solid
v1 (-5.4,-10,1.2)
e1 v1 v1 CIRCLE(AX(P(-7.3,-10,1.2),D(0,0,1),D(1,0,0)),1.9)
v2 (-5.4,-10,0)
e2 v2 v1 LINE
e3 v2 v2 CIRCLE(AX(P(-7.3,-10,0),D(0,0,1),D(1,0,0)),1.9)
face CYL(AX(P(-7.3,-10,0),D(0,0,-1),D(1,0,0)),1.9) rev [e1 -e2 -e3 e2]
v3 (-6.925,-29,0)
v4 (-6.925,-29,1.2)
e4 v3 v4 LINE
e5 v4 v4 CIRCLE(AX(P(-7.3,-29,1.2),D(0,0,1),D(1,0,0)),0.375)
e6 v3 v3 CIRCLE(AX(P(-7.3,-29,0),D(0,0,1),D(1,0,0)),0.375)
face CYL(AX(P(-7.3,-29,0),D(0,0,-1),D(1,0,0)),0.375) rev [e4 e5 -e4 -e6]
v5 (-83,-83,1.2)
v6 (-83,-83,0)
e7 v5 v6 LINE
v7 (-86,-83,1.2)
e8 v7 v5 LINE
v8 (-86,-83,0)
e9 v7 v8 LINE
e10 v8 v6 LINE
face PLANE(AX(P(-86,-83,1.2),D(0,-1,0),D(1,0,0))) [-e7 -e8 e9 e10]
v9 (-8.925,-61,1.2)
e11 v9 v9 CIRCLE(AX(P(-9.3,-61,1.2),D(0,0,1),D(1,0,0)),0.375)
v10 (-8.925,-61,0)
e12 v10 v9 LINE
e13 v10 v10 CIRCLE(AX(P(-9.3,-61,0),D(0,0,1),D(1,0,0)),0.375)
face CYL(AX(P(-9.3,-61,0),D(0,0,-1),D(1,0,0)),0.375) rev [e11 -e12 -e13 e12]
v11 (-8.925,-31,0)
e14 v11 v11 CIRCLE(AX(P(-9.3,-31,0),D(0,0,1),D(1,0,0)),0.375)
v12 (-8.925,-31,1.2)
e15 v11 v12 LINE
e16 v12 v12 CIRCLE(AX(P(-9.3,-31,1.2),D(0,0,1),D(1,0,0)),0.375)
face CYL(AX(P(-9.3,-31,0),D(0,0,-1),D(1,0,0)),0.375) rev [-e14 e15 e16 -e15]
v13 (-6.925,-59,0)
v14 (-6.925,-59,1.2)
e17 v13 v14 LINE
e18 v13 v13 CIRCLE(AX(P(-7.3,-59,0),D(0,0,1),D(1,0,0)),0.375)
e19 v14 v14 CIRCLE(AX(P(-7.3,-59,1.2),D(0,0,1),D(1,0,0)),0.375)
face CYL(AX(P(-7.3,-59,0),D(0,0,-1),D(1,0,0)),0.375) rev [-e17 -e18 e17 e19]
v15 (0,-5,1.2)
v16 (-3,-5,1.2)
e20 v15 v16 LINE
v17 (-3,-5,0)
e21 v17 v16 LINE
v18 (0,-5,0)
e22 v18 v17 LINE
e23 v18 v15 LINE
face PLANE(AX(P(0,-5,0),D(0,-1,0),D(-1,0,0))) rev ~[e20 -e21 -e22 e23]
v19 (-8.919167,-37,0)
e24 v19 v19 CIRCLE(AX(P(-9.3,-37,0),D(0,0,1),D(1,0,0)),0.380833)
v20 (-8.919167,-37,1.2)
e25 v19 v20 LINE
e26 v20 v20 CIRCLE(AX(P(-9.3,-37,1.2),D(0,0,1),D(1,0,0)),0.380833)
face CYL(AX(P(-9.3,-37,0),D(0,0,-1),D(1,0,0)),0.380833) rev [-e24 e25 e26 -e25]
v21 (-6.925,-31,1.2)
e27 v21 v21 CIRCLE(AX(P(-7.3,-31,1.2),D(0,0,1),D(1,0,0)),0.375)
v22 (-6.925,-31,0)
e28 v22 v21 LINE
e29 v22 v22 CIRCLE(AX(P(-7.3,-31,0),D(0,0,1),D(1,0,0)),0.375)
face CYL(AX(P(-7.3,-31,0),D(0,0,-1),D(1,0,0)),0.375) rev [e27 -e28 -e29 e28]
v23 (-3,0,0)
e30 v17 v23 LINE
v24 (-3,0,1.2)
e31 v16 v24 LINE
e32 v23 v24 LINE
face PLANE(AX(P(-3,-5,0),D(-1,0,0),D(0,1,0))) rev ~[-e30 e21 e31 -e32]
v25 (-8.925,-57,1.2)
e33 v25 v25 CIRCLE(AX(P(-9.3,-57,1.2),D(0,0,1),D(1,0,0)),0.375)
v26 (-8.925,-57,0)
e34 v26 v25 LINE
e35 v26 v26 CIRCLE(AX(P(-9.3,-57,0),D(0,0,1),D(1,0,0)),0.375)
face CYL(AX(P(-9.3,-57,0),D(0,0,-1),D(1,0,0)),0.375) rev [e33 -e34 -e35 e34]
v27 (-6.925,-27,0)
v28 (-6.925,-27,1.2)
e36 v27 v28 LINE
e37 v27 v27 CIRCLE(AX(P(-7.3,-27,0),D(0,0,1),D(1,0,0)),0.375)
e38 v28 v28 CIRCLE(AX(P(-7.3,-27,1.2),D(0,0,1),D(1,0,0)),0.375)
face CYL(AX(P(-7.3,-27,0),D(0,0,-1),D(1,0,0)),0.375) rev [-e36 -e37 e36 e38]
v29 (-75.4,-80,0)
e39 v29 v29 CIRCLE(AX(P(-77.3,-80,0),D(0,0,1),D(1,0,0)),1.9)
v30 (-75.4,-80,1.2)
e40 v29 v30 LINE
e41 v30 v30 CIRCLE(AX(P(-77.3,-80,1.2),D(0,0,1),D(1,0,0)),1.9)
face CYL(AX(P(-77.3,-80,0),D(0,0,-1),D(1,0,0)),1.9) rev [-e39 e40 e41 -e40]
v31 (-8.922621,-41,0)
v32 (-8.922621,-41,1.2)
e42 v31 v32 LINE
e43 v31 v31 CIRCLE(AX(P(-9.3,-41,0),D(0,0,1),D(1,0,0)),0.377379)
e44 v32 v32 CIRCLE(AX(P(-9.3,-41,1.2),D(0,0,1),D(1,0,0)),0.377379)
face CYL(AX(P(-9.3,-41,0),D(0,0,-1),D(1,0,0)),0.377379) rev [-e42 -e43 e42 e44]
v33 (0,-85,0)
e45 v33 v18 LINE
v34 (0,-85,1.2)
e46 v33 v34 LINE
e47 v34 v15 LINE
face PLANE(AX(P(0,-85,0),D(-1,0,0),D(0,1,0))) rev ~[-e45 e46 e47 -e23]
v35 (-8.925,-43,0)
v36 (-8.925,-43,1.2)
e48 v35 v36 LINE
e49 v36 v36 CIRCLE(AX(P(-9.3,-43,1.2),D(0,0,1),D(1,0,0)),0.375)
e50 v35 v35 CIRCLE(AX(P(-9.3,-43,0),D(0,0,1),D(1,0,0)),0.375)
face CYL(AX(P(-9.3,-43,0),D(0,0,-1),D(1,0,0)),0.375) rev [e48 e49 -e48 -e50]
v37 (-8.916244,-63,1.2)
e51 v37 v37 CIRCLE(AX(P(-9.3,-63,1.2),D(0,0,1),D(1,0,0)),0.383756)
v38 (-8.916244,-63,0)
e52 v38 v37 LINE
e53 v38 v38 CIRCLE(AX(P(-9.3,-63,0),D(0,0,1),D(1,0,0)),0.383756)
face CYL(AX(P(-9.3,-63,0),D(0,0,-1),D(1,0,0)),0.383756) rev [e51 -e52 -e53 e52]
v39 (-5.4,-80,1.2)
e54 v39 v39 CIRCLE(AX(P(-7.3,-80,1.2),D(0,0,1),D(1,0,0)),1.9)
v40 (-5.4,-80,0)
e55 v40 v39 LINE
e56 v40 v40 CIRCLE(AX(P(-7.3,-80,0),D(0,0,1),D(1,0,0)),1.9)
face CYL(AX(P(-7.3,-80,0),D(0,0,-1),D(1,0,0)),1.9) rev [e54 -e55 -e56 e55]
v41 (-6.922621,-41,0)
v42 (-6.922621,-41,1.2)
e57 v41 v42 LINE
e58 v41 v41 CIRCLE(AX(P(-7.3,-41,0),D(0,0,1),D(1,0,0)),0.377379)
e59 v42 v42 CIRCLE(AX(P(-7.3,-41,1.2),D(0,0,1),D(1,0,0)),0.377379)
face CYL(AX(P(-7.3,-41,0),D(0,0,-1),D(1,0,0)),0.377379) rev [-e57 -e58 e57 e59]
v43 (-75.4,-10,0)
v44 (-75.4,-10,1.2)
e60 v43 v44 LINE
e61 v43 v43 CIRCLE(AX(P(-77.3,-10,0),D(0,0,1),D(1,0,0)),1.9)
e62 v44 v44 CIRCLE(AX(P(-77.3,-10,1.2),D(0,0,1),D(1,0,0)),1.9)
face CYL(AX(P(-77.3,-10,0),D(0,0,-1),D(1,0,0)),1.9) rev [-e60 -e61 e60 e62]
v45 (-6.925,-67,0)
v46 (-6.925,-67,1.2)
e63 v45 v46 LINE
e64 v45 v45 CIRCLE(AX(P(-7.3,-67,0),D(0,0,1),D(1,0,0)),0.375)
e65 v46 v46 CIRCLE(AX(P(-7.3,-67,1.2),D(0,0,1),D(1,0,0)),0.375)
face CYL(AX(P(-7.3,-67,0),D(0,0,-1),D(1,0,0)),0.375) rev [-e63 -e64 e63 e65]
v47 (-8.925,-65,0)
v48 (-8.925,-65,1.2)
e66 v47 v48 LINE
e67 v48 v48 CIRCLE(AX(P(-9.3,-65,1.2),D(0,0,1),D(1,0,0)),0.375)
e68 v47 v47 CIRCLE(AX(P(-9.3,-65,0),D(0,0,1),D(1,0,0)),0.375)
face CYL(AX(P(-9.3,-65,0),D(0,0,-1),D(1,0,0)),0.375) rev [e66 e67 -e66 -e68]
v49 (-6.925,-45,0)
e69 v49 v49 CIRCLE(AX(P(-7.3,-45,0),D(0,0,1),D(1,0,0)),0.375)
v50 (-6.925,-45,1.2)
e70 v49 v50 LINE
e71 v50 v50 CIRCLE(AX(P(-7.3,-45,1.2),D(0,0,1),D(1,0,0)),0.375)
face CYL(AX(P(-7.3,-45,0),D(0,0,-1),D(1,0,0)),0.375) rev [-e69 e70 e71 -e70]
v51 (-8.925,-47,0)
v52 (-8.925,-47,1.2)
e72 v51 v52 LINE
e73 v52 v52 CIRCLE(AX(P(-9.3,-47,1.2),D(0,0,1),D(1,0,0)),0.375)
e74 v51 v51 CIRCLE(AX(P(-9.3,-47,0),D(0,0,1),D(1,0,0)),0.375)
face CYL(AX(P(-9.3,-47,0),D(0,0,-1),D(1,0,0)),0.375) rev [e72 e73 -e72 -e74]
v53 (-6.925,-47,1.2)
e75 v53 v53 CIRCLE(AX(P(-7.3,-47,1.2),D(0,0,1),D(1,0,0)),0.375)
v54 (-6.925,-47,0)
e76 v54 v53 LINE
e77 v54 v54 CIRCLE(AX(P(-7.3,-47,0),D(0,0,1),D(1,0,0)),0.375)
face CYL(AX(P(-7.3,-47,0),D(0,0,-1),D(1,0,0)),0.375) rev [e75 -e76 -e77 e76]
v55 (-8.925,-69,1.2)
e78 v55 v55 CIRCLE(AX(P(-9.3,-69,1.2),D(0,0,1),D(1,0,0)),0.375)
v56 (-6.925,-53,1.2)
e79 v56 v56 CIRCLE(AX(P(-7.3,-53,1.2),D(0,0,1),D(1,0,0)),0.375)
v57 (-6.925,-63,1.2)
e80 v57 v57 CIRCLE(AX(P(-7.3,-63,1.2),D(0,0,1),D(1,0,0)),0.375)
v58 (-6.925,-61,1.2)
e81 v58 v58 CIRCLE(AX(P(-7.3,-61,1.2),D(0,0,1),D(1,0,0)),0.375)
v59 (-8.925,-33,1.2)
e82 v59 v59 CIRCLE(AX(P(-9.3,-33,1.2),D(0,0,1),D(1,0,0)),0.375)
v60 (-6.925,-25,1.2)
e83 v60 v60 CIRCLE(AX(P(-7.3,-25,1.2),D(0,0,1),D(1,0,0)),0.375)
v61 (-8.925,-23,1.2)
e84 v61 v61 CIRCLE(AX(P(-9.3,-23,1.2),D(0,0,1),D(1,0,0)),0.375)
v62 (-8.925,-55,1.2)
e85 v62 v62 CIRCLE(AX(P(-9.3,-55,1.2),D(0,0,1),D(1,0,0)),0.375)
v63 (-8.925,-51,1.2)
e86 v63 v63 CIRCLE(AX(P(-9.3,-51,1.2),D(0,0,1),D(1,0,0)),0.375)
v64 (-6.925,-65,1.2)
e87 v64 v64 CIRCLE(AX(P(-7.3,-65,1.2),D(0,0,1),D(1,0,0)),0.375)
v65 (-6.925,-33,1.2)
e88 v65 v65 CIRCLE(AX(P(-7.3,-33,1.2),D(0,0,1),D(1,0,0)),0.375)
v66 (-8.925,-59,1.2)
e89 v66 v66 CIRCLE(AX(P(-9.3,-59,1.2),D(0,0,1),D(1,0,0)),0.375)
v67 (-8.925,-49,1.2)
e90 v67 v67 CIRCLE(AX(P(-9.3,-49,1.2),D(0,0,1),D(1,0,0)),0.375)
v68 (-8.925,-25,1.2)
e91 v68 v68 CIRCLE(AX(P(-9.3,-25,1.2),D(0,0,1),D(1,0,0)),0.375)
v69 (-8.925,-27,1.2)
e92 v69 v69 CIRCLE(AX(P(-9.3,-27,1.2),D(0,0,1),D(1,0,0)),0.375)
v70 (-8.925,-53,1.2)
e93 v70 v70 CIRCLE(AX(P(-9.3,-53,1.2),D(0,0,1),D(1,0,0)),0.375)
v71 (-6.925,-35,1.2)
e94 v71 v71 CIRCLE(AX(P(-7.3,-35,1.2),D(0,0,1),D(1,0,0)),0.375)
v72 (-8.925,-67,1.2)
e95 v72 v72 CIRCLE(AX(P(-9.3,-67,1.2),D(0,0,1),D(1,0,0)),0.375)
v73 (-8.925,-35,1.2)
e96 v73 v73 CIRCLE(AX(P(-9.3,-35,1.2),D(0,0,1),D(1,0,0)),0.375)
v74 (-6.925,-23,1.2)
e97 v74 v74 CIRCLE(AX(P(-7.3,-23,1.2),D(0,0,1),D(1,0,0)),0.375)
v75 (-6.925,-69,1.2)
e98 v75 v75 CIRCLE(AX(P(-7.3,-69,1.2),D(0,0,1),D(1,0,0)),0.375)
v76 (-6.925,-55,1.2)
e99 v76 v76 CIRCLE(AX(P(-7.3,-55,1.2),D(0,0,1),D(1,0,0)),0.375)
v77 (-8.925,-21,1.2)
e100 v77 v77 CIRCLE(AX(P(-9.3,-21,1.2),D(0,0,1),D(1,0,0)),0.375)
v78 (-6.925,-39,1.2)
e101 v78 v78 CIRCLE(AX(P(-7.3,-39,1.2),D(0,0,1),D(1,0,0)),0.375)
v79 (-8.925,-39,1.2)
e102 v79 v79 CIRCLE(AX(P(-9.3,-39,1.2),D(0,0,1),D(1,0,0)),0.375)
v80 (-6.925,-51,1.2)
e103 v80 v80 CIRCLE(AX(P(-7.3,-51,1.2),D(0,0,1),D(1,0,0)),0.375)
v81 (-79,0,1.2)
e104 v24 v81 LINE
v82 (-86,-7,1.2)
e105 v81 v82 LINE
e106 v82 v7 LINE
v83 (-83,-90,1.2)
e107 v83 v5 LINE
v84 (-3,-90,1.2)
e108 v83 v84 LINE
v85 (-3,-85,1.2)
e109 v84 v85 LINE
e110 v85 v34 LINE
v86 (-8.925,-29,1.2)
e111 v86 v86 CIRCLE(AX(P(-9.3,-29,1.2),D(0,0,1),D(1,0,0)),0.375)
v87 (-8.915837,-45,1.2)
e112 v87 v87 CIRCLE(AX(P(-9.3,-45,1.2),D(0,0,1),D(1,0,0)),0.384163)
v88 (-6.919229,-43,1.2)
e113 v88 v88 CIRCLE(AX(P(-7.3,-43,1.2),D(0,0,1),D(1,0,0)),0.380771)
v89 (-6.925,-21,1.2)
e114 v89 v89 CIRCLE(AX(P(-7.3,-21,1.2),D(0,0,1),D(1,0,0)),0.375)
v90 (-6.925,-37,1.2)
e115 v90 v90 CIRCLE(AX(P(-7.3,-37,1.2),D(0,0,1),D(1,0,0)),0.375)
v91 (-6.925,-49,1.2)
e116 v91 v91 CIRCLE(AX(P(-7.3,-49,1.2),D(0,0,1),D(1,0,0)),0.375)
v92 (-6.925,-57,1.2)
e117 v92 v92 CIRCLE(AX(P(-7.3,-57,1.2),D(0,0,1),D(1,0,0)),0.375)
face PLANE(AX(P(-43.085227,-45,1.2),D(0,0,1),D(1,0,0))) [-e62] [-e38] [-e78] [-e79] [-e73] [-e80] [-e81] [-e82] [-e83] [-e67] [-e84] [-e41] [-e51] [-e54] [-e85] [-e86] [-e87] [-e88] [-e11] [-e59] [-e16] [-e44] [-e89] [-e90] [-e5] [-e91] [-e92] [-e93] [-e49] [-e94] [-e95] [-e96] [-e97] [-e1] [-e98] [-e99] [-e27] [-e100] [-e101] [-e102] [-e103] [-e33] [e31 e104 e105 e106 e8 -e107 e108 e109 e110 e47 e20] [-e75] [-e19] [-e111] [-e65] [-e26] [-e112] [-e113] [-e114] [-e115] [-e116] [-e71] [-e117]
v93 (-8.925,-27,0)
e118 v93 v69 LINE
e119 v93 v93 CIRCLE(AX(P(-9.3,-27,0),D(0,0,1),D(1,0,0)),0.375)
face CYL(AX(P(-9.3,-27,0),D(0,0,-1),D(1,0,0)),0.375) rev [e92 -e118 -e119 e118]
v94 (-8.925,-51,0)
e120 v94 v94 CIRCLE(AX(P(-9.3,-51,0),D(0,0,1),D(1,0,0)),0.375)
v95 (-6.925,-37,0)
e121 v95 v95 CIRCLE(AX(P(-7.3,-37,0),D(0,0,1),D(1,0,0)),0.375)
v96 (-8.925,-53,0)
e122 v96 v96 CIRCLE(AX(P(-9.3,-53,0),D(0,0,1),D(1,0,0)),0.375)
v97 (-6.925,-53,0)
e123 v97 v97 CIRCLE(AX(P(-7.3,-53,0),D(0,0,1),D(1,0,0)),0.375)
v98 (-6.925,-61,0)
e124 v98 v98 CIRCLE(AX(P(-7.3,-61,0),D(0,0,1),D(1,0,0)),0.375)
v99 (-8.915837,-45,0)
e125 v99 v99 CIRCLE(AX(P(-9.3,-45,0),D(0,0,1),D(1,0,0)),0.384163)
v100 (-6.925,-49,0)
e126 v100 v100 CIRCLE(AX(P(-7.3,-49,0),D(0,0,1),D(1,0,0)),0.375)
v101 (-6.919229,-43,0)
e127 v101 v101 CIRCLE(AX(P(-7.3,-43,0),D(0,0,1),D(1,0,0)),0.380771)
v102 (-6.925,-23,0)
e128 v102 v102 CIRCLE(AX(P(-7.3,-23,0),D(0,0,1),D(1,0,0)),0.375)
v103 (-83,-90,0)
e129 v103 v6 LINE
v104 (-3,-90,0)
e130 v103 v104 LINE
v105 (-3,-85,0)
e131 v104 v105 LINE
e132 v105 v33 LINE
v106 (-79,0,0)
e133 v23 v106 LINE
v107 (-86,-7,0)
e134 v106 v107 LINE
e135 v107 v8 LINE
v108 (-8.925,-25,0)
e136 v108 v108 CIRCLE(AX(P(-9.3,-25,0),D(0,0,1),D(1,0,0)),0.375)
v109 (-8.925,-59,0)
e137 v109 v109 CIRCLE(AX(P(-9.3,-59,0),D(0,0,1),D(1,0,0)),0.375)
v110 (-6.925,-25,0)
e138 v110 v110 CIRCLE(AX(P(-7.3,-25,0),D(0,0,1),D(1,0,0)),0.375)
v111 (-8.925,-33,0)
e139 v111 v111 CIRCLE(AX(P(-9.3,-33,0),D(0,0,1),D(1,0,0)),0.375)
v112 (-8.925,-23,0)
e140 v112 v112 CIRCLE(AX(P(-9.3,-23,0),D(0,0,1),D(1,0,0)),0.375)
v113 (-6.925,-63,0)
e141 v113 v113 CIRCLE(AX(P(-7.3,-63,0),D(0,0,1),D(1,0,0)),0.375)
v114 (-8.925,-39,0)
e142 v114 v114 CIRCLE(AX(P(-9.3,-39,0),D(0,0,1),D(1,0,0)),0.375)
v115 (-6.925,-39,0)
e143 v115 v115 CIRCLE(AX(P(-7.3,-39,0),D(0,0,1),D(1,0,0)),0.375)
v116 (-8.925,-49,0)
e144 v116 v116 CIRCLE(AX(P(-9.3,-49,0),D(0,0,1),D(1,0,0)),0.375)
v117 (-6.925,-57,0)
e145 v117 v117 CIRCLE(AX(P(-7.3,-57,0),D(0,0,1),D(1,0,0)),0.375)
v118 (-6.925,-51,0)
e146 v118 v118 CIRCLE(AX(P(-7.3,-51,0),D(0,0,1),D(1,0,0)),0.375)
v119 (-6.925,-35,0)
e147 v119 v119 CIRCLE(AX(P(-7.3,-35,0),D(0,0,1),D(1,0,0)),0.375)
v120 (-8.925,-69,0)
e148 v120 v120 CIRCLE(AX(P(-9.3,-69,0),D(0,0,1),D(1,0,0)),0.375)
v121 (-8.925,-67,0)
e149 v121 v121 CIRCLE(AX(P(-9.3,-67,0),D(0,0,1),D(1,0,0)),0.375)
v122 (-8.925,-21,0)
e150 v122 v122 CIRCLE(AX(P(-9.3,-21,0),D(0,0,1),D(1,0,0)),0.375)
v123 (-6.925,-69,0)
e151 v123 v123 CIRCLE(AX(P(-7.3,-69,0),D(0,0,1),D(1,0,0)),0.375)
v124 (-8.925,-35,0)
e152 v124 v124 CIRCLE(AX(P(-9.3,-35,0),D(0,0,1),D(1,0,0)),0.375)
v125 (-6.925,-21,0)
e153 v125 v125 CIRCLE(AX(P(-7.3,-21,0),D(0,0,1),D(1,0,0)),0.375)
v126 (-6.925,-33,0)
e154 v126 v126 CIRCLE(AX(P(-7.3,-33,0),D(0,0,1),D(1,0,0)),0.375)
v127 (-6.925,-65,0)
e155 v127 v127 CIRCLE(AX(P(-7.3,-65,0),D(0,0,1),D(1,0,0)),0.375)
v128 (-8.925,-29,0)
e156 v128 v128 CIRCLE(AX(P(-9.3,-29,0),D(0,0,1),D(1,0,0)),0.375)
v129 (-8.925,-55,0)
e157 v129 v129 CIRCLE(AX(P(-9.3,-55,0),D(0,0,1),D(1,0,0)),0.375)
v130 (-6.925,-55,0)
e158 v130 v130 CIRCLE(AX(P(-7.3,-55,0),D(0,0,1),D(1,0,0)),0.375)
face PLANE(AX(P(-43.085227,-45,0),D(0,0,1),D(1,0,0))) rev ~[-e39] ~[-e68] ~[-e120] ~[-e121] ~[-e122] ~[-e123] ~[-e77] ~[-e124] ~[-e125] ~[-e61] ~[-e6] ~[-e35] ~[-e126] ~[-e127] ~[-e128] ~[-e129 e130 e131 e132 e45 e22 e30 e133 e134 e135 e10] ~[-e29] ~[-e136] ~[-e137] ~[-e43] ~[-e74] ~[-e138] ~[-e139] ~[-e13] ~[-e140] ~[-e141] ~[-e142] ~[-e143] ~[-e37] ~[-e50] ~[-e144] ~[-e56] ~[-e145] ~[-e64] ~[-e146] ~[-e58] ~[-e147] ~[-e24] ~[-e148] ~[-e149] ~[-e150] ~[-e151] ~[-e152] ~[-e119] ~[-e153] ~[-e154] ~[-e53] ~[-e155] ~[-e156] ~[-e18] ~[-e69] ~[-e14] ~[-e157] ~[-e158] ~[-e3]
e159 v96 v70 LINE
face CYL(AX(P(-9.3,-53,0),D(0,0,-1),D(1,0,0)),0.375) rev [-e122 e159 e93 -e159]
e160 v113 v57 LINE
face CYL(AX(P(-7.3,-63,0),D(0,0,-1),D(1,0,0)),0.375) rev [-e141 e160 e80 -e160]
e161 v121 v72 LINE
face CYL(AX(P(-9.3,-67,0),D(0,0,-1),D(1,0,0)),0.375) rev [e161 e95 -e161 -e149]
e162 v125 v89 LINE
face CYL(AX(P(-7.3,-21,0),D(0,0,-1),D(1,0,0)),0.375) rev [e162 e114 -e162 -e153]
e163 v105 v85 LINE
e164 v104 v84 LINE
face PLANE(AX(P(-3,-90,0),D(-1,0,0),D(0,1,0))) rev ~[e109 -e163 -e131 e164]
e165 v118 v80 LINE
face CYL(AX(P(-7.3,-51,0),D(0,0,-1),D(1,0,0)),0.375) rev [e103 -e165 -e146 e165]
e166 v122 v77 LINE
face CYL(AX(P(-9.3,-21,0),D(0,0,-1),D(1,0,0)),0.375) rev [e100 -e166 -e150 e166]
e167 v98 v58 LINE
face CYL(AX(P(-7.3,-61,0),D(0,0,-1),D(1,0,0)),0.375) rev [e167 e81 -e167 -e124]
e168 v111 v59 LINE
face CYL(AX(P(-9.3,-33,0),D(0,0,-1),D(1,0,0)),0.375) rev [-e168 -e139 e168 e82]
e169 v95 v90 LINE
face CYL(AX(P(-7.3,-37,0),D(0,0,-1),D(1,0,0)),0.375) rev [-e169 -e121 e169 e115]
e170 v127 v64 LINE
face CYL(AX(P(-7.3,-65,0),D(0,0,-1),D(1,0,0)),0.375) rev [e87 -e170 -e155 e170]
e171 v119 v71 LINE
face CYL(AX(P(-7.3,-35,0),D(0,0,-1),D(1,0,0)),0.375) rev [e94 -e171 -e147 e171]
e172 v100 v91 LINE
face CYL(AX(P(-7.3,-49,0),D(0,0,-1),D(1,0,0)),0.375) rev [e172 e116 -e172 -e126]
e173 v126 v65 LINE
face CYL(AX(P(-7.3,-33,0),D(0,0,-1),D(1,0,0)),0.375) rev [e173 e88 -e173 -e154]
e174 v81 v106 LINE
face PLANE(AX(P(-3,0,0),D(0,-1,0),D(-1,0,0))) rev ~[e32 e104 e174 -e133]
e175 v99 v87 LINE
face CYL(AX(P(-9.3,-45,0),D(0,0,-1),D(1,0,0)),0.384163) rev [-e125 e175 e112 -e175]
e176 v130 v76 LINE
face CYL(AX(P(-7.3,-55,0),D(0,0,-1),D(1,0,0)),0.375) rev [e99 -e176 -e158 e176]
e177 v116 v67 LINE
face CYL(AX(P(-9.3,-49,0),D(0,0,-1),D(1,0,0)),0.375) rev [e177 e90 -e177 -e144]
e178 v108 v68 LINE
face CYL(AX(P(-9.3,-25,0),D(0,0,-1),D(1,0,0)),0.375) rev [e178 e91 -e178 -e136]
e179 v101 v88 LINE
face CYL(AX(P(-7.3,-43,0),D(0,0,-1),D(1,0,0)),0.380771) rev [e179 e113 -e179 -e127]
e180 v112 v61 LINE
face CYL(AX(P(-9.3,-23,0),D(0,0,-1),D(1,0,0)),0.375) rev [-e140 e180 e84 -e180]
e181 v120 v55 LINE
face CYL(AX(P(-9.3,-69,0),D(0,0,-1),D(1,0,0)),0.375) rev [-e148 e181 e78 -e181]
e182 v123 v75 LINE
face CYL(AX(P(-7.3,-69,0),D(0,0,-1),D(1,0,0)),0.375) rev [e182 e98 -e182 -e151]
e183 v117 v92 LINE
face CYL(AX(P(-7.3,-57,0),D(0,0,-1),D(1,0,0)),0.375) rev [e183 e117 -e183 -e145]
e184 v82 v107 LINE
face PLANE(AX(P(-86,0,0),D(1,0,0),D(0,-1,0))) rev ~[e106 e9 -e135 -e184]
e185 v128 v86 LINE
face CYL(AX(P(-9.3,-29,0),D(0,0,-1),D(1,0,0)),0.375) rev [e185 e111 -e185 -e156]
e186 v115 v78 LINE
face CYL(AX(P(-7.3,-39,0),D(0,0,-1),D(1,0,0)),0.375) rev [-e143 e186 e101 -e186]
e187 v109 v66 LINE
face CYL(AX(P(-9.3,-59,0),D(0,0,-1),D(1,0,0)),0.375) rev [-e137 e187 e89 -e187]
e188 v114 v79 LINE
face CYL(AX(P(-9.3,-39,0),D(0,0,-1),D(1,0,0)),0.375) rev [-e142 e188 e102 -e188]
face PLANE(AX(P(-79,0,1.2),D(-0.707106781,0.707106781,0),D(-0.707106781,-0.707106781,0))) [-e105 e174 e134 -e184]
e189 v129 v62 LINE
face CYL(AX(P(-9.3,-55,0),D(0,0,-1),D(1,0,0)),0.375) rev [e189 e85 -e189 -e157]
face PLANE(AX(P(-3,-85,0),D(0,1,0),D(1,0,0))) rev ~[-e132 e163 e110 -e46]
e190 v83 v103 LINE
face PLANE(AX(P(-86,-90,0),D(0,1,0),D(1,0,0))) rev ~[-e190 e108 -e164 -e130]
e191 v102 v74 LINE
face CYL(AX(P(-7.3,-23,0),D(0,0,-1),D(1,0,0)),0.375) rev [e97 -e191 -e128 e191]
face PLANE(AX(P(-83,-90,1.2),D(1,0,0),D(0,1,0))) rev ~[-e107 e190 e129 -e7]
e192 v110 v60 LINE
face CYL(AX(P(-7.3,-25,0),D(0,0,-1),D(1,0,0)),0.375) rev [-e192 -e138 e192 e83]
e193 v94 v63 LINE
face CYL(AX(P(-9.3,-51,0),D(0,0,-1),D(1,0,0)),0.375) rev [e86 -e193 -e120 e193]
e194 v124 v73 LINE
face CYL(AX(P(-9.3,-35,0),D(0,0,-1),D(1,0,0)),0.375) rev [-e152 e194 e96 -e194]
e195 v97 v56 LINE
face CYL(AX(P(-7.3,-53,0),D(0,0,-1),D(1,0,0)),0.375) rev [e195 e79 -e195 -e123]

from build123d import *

# Parameters (mm, degrees)
SKETCH1_R           = 1.9
SKETCH1_R_2         = 0.375
SKETCH1_R_3         = 0.383755901
SKETCH1_R_4         = 0.384163196
SKETCH1_R_5         = 0.380771211
SKETCH1_R_6         = 0.377379225
SKETCH1_R_7         = 0.380832793
BOSS_EXTRUDE1_DEPTH = 1.2
SKETCH_1_W          = 3
SKETCH_1_H          = 7
CUT_EXTRUDE_1_DEPTH = 10


with BuildPart() as part:
    # Sketch1 → Boss-Extrude1 (new body)
    with BuildSketch(Plane.XY):
        Polygon((-3, 0), (-86, 0), (-86, -90), (-3, -90), (-3, -85), (0, -85), (0, -5), (-3, -5), align=None)
        with Locations((-7.3, -10)):
            Circle(SKETCH1_R, mode=Mode.SUBTRACT)
        with Locations((-77.3, -10)):
            Circle(SKETCH1_R, mode=Mode.SUBTRACT)
        with Locations((-77.3, -80)):
            Circle(SKETCH1_R, mode=Mode.SUBTRACT)
        with Locations((-7.3, -80)):
            Circle(SKETCH1_R, mode=Mode.SUBTRACT)
        with Locations((-9.3, -69)):
            Circle(SKETCH1_R_2, mode=Mode.SUBTRACT)
        with Locations((-7.3, -69)):
            Circle(SKETCH1_R_2, mode=Mode.SUBTRACT)
        with Locations((-7.3, -67)):
            Circle(SKETCH1_R_2, mode=Mode.SUBTRACT)
        with Locations((-9.3, -67)):
            Circle(SKETCH1_R_2, mode=Mode.SUBTRACT)
        with Locations((-9.3, -65)):
            Circle(SKETCH1_R_2, mode=Mode.SUBTRACT)
        with Locations((-7.3, -65)):
            Circle(SKETCH1_R_2, mode=Mode.SUBTRACT)
        with Locations((-7.3, -63)):
            Circle(SKETCH1_R_2, mode=Mode.SUBTRACT)
        with Locations((-9.3, -63)):
            Circle(SKETCH1_R_3, mode=Mode.SUBTRACT)
        with Locations((-9.3, -61)):
            Circle(SKETCH1_R_2, mode=Mode.SUBTRACT)
        with Locations((-7.3, -61)):
            Circle(SKETCH1_R_2, mode=Mode.SUBTRACT)
        with Locations((-7.3, -59)):
            Circle(SKETCH1_R_2, mode=Mode.SUBTRACT)
        with Locations((-9.3, -59)):
            Circle(SKETCH1_R_2, mode=Mode.SUBTRACT)
        with Locations((-7.3, -57)):
            Circle(SKETCH1_R_2, mode=Mode.SUBTRACT)
        with Locations((-9.3, -57)):
            Circle(SKETCH1_R_2, mode=Mode.SUBTRACT)
        with Locations((-9.3, -55)):
            Circle(SKETCH1_R_2, mode=Mode.SUBTRACT)
        with Locations((-7.3, -55)):
            Circle(SKETCH1_R_2, mode=Mode.SUBTRACT)
        with Locations((-7.3, -53)):
            Circle(SKETCH1_R_2, mode=Mode.SUBTRACT)
        with Locations((-9.3, -53)):
            Circle(SKETCH1_R_2, mode=Mode.SUBTRACT)
        with Locations((-9.3, -51)):
            Circle(SKETCH1_R_2, mode=Mode.SUBTRACT)
        with Locations((-7.3, -51)):
            Circle(SKETCH1_R_2, mode=Mode.SUBTRACT)
        with Locations((-7.3, -49)):
            Circle(SKETCH1_R_2, mode=Mode.SUBTRACT)
        with Locations((-9.3, -49)):
            Circle(SKETCH1_R_2, mode=Mode.SUBTRACT)
        with Locations((-9.3, -47)):
            Circle(SKETCH1_R_2, mode=Mode.SUBTRACT)
        with Locations((-7.3, -47)):
            Circle(SKETCH1_R_2, mode=Mode.SUBTRACT)
        with Locations((-7.3, -45)):
            Circle(SKETCH1_R_2, mode=Mode.SUBTRACT)
        with Locations((-9.3, -45)):
            Circle(SKETCH1_R_4, mode=Mode.SUBTRACT)
        with Locations((-9.3, -43)):
            Circle(SKETCH1_R_2, mode=Mode.SUBTRACT)
        with Locations((-7.3, -43)):
            Circle(SKETCH1_R_5, mode=Mode.SUBTRACT)
        with Locations((-7.3, -41)):
            Circle(SKETCH1_R_6, mode=Mode.SUBTRACT)
        with Locations((-9.3, -41)):
            Circle(SKETCH1_R_6, mode=Mode.SUBTRACT)
        with Locations((-9.3, -39)):
            Circle(SKETCH1_R_2, mode=Mode.SUBTRACT)
        with Locations((-7.3, -39)):
            Circle(SKETCH1_R_2, mode=Mode.SUBTRACT)
        with Locations((-7.3, -37)):
            Circle(SKETCH1_R_2, mode=Mode.SUBTRACT)
        with Locations((-9.3, -37)):
            Circle(SKETCH1_R_7, mode=Mode.SUBTRACT)
        with Locations((-7.3, -35)):
            Circle(SKETCH1_R_2, mode=Mode.SUBTRACT)
        with Locations((-9.3, -35)):
            Circle(SKETCH1_R_2, mode=Mode.SUBTRACT)
        with Locations((-9.3, -33)):
            Circle(SKETCH1_R_2, mode=Mode.SUBTRACT)
        with Locations((-7.3, -33)):
            Circle(SKETCH1_R_2, mode=Mode.SUBTRACT)
        with Locations((-7.3, -31)):
            Circle(SKETCH1_R_2, mode=Mode.SUBTRACT)
        with Locations((-9.3, -31)):
            Circle(SKETCH1_R_2, mode=Mode.SUBTRACT)
        with Locations((-7.3, -29)):
            Circle(SKETCH1_R_2, mode=Mode.SUBTRACT)
        with Locations((-9.3, -29)):
            Circle(SKETCH1_R_2, mode=Mode.SUBTRACT)
        with Locations((-9.3, -27)):
            Circle(SKETCH1_R_2, mode=Mode.SUBTRACT)
        with Locations((-7.3, -27)):
            Circle(SKETCH1_R_2, mode=Mode.SUBTRACT)
        with Locations((-7.3, -25)):
            Circle(SKETCH1_R_2, mode=Mode.SUBTRACT)
        with Locations((-9.3, -25)):
            Circle(SKETCH1_R_2, mode=Mode.SUBTRACT)
        with Locations((-7.3, -23)):
            Circle(SKETCH1_R_2, mode=Mode.SUBTRACT)
        with Locations((-9.3, -23)):
            Circle(SKETCH1_R_2, mode=Mode.SUBTRACT)
        with Locations((-9.3, -21)):
            Circle(SKETCH1_R_2, mode=Mode.SUBTRACT)
        with Locations((-7.3, -21)):
            Circle(SKETCH1_R_2, mode=Mode.SUBTRACT)
    extrude(amount=BOSS_EXTRUDE1_DEPTH)

    # ｽｹｯﾁ1 → ｶｯﾄ - 押し出し1 (cut)
    with BuildSketch(Plane.XY.offset(1.2)):
        with Locations((-84.5, -86.5)):
            Rectangle(SKETCH_1_W, SKETCH_1_H)
        Polygon((-86, -7), (-86, 0), (-79, 0), align=None)
    extrude(amount=-CUT_EXTRUDE_1_DEPTH, mode=Mode.SUBTRACT)


solid = part.part
